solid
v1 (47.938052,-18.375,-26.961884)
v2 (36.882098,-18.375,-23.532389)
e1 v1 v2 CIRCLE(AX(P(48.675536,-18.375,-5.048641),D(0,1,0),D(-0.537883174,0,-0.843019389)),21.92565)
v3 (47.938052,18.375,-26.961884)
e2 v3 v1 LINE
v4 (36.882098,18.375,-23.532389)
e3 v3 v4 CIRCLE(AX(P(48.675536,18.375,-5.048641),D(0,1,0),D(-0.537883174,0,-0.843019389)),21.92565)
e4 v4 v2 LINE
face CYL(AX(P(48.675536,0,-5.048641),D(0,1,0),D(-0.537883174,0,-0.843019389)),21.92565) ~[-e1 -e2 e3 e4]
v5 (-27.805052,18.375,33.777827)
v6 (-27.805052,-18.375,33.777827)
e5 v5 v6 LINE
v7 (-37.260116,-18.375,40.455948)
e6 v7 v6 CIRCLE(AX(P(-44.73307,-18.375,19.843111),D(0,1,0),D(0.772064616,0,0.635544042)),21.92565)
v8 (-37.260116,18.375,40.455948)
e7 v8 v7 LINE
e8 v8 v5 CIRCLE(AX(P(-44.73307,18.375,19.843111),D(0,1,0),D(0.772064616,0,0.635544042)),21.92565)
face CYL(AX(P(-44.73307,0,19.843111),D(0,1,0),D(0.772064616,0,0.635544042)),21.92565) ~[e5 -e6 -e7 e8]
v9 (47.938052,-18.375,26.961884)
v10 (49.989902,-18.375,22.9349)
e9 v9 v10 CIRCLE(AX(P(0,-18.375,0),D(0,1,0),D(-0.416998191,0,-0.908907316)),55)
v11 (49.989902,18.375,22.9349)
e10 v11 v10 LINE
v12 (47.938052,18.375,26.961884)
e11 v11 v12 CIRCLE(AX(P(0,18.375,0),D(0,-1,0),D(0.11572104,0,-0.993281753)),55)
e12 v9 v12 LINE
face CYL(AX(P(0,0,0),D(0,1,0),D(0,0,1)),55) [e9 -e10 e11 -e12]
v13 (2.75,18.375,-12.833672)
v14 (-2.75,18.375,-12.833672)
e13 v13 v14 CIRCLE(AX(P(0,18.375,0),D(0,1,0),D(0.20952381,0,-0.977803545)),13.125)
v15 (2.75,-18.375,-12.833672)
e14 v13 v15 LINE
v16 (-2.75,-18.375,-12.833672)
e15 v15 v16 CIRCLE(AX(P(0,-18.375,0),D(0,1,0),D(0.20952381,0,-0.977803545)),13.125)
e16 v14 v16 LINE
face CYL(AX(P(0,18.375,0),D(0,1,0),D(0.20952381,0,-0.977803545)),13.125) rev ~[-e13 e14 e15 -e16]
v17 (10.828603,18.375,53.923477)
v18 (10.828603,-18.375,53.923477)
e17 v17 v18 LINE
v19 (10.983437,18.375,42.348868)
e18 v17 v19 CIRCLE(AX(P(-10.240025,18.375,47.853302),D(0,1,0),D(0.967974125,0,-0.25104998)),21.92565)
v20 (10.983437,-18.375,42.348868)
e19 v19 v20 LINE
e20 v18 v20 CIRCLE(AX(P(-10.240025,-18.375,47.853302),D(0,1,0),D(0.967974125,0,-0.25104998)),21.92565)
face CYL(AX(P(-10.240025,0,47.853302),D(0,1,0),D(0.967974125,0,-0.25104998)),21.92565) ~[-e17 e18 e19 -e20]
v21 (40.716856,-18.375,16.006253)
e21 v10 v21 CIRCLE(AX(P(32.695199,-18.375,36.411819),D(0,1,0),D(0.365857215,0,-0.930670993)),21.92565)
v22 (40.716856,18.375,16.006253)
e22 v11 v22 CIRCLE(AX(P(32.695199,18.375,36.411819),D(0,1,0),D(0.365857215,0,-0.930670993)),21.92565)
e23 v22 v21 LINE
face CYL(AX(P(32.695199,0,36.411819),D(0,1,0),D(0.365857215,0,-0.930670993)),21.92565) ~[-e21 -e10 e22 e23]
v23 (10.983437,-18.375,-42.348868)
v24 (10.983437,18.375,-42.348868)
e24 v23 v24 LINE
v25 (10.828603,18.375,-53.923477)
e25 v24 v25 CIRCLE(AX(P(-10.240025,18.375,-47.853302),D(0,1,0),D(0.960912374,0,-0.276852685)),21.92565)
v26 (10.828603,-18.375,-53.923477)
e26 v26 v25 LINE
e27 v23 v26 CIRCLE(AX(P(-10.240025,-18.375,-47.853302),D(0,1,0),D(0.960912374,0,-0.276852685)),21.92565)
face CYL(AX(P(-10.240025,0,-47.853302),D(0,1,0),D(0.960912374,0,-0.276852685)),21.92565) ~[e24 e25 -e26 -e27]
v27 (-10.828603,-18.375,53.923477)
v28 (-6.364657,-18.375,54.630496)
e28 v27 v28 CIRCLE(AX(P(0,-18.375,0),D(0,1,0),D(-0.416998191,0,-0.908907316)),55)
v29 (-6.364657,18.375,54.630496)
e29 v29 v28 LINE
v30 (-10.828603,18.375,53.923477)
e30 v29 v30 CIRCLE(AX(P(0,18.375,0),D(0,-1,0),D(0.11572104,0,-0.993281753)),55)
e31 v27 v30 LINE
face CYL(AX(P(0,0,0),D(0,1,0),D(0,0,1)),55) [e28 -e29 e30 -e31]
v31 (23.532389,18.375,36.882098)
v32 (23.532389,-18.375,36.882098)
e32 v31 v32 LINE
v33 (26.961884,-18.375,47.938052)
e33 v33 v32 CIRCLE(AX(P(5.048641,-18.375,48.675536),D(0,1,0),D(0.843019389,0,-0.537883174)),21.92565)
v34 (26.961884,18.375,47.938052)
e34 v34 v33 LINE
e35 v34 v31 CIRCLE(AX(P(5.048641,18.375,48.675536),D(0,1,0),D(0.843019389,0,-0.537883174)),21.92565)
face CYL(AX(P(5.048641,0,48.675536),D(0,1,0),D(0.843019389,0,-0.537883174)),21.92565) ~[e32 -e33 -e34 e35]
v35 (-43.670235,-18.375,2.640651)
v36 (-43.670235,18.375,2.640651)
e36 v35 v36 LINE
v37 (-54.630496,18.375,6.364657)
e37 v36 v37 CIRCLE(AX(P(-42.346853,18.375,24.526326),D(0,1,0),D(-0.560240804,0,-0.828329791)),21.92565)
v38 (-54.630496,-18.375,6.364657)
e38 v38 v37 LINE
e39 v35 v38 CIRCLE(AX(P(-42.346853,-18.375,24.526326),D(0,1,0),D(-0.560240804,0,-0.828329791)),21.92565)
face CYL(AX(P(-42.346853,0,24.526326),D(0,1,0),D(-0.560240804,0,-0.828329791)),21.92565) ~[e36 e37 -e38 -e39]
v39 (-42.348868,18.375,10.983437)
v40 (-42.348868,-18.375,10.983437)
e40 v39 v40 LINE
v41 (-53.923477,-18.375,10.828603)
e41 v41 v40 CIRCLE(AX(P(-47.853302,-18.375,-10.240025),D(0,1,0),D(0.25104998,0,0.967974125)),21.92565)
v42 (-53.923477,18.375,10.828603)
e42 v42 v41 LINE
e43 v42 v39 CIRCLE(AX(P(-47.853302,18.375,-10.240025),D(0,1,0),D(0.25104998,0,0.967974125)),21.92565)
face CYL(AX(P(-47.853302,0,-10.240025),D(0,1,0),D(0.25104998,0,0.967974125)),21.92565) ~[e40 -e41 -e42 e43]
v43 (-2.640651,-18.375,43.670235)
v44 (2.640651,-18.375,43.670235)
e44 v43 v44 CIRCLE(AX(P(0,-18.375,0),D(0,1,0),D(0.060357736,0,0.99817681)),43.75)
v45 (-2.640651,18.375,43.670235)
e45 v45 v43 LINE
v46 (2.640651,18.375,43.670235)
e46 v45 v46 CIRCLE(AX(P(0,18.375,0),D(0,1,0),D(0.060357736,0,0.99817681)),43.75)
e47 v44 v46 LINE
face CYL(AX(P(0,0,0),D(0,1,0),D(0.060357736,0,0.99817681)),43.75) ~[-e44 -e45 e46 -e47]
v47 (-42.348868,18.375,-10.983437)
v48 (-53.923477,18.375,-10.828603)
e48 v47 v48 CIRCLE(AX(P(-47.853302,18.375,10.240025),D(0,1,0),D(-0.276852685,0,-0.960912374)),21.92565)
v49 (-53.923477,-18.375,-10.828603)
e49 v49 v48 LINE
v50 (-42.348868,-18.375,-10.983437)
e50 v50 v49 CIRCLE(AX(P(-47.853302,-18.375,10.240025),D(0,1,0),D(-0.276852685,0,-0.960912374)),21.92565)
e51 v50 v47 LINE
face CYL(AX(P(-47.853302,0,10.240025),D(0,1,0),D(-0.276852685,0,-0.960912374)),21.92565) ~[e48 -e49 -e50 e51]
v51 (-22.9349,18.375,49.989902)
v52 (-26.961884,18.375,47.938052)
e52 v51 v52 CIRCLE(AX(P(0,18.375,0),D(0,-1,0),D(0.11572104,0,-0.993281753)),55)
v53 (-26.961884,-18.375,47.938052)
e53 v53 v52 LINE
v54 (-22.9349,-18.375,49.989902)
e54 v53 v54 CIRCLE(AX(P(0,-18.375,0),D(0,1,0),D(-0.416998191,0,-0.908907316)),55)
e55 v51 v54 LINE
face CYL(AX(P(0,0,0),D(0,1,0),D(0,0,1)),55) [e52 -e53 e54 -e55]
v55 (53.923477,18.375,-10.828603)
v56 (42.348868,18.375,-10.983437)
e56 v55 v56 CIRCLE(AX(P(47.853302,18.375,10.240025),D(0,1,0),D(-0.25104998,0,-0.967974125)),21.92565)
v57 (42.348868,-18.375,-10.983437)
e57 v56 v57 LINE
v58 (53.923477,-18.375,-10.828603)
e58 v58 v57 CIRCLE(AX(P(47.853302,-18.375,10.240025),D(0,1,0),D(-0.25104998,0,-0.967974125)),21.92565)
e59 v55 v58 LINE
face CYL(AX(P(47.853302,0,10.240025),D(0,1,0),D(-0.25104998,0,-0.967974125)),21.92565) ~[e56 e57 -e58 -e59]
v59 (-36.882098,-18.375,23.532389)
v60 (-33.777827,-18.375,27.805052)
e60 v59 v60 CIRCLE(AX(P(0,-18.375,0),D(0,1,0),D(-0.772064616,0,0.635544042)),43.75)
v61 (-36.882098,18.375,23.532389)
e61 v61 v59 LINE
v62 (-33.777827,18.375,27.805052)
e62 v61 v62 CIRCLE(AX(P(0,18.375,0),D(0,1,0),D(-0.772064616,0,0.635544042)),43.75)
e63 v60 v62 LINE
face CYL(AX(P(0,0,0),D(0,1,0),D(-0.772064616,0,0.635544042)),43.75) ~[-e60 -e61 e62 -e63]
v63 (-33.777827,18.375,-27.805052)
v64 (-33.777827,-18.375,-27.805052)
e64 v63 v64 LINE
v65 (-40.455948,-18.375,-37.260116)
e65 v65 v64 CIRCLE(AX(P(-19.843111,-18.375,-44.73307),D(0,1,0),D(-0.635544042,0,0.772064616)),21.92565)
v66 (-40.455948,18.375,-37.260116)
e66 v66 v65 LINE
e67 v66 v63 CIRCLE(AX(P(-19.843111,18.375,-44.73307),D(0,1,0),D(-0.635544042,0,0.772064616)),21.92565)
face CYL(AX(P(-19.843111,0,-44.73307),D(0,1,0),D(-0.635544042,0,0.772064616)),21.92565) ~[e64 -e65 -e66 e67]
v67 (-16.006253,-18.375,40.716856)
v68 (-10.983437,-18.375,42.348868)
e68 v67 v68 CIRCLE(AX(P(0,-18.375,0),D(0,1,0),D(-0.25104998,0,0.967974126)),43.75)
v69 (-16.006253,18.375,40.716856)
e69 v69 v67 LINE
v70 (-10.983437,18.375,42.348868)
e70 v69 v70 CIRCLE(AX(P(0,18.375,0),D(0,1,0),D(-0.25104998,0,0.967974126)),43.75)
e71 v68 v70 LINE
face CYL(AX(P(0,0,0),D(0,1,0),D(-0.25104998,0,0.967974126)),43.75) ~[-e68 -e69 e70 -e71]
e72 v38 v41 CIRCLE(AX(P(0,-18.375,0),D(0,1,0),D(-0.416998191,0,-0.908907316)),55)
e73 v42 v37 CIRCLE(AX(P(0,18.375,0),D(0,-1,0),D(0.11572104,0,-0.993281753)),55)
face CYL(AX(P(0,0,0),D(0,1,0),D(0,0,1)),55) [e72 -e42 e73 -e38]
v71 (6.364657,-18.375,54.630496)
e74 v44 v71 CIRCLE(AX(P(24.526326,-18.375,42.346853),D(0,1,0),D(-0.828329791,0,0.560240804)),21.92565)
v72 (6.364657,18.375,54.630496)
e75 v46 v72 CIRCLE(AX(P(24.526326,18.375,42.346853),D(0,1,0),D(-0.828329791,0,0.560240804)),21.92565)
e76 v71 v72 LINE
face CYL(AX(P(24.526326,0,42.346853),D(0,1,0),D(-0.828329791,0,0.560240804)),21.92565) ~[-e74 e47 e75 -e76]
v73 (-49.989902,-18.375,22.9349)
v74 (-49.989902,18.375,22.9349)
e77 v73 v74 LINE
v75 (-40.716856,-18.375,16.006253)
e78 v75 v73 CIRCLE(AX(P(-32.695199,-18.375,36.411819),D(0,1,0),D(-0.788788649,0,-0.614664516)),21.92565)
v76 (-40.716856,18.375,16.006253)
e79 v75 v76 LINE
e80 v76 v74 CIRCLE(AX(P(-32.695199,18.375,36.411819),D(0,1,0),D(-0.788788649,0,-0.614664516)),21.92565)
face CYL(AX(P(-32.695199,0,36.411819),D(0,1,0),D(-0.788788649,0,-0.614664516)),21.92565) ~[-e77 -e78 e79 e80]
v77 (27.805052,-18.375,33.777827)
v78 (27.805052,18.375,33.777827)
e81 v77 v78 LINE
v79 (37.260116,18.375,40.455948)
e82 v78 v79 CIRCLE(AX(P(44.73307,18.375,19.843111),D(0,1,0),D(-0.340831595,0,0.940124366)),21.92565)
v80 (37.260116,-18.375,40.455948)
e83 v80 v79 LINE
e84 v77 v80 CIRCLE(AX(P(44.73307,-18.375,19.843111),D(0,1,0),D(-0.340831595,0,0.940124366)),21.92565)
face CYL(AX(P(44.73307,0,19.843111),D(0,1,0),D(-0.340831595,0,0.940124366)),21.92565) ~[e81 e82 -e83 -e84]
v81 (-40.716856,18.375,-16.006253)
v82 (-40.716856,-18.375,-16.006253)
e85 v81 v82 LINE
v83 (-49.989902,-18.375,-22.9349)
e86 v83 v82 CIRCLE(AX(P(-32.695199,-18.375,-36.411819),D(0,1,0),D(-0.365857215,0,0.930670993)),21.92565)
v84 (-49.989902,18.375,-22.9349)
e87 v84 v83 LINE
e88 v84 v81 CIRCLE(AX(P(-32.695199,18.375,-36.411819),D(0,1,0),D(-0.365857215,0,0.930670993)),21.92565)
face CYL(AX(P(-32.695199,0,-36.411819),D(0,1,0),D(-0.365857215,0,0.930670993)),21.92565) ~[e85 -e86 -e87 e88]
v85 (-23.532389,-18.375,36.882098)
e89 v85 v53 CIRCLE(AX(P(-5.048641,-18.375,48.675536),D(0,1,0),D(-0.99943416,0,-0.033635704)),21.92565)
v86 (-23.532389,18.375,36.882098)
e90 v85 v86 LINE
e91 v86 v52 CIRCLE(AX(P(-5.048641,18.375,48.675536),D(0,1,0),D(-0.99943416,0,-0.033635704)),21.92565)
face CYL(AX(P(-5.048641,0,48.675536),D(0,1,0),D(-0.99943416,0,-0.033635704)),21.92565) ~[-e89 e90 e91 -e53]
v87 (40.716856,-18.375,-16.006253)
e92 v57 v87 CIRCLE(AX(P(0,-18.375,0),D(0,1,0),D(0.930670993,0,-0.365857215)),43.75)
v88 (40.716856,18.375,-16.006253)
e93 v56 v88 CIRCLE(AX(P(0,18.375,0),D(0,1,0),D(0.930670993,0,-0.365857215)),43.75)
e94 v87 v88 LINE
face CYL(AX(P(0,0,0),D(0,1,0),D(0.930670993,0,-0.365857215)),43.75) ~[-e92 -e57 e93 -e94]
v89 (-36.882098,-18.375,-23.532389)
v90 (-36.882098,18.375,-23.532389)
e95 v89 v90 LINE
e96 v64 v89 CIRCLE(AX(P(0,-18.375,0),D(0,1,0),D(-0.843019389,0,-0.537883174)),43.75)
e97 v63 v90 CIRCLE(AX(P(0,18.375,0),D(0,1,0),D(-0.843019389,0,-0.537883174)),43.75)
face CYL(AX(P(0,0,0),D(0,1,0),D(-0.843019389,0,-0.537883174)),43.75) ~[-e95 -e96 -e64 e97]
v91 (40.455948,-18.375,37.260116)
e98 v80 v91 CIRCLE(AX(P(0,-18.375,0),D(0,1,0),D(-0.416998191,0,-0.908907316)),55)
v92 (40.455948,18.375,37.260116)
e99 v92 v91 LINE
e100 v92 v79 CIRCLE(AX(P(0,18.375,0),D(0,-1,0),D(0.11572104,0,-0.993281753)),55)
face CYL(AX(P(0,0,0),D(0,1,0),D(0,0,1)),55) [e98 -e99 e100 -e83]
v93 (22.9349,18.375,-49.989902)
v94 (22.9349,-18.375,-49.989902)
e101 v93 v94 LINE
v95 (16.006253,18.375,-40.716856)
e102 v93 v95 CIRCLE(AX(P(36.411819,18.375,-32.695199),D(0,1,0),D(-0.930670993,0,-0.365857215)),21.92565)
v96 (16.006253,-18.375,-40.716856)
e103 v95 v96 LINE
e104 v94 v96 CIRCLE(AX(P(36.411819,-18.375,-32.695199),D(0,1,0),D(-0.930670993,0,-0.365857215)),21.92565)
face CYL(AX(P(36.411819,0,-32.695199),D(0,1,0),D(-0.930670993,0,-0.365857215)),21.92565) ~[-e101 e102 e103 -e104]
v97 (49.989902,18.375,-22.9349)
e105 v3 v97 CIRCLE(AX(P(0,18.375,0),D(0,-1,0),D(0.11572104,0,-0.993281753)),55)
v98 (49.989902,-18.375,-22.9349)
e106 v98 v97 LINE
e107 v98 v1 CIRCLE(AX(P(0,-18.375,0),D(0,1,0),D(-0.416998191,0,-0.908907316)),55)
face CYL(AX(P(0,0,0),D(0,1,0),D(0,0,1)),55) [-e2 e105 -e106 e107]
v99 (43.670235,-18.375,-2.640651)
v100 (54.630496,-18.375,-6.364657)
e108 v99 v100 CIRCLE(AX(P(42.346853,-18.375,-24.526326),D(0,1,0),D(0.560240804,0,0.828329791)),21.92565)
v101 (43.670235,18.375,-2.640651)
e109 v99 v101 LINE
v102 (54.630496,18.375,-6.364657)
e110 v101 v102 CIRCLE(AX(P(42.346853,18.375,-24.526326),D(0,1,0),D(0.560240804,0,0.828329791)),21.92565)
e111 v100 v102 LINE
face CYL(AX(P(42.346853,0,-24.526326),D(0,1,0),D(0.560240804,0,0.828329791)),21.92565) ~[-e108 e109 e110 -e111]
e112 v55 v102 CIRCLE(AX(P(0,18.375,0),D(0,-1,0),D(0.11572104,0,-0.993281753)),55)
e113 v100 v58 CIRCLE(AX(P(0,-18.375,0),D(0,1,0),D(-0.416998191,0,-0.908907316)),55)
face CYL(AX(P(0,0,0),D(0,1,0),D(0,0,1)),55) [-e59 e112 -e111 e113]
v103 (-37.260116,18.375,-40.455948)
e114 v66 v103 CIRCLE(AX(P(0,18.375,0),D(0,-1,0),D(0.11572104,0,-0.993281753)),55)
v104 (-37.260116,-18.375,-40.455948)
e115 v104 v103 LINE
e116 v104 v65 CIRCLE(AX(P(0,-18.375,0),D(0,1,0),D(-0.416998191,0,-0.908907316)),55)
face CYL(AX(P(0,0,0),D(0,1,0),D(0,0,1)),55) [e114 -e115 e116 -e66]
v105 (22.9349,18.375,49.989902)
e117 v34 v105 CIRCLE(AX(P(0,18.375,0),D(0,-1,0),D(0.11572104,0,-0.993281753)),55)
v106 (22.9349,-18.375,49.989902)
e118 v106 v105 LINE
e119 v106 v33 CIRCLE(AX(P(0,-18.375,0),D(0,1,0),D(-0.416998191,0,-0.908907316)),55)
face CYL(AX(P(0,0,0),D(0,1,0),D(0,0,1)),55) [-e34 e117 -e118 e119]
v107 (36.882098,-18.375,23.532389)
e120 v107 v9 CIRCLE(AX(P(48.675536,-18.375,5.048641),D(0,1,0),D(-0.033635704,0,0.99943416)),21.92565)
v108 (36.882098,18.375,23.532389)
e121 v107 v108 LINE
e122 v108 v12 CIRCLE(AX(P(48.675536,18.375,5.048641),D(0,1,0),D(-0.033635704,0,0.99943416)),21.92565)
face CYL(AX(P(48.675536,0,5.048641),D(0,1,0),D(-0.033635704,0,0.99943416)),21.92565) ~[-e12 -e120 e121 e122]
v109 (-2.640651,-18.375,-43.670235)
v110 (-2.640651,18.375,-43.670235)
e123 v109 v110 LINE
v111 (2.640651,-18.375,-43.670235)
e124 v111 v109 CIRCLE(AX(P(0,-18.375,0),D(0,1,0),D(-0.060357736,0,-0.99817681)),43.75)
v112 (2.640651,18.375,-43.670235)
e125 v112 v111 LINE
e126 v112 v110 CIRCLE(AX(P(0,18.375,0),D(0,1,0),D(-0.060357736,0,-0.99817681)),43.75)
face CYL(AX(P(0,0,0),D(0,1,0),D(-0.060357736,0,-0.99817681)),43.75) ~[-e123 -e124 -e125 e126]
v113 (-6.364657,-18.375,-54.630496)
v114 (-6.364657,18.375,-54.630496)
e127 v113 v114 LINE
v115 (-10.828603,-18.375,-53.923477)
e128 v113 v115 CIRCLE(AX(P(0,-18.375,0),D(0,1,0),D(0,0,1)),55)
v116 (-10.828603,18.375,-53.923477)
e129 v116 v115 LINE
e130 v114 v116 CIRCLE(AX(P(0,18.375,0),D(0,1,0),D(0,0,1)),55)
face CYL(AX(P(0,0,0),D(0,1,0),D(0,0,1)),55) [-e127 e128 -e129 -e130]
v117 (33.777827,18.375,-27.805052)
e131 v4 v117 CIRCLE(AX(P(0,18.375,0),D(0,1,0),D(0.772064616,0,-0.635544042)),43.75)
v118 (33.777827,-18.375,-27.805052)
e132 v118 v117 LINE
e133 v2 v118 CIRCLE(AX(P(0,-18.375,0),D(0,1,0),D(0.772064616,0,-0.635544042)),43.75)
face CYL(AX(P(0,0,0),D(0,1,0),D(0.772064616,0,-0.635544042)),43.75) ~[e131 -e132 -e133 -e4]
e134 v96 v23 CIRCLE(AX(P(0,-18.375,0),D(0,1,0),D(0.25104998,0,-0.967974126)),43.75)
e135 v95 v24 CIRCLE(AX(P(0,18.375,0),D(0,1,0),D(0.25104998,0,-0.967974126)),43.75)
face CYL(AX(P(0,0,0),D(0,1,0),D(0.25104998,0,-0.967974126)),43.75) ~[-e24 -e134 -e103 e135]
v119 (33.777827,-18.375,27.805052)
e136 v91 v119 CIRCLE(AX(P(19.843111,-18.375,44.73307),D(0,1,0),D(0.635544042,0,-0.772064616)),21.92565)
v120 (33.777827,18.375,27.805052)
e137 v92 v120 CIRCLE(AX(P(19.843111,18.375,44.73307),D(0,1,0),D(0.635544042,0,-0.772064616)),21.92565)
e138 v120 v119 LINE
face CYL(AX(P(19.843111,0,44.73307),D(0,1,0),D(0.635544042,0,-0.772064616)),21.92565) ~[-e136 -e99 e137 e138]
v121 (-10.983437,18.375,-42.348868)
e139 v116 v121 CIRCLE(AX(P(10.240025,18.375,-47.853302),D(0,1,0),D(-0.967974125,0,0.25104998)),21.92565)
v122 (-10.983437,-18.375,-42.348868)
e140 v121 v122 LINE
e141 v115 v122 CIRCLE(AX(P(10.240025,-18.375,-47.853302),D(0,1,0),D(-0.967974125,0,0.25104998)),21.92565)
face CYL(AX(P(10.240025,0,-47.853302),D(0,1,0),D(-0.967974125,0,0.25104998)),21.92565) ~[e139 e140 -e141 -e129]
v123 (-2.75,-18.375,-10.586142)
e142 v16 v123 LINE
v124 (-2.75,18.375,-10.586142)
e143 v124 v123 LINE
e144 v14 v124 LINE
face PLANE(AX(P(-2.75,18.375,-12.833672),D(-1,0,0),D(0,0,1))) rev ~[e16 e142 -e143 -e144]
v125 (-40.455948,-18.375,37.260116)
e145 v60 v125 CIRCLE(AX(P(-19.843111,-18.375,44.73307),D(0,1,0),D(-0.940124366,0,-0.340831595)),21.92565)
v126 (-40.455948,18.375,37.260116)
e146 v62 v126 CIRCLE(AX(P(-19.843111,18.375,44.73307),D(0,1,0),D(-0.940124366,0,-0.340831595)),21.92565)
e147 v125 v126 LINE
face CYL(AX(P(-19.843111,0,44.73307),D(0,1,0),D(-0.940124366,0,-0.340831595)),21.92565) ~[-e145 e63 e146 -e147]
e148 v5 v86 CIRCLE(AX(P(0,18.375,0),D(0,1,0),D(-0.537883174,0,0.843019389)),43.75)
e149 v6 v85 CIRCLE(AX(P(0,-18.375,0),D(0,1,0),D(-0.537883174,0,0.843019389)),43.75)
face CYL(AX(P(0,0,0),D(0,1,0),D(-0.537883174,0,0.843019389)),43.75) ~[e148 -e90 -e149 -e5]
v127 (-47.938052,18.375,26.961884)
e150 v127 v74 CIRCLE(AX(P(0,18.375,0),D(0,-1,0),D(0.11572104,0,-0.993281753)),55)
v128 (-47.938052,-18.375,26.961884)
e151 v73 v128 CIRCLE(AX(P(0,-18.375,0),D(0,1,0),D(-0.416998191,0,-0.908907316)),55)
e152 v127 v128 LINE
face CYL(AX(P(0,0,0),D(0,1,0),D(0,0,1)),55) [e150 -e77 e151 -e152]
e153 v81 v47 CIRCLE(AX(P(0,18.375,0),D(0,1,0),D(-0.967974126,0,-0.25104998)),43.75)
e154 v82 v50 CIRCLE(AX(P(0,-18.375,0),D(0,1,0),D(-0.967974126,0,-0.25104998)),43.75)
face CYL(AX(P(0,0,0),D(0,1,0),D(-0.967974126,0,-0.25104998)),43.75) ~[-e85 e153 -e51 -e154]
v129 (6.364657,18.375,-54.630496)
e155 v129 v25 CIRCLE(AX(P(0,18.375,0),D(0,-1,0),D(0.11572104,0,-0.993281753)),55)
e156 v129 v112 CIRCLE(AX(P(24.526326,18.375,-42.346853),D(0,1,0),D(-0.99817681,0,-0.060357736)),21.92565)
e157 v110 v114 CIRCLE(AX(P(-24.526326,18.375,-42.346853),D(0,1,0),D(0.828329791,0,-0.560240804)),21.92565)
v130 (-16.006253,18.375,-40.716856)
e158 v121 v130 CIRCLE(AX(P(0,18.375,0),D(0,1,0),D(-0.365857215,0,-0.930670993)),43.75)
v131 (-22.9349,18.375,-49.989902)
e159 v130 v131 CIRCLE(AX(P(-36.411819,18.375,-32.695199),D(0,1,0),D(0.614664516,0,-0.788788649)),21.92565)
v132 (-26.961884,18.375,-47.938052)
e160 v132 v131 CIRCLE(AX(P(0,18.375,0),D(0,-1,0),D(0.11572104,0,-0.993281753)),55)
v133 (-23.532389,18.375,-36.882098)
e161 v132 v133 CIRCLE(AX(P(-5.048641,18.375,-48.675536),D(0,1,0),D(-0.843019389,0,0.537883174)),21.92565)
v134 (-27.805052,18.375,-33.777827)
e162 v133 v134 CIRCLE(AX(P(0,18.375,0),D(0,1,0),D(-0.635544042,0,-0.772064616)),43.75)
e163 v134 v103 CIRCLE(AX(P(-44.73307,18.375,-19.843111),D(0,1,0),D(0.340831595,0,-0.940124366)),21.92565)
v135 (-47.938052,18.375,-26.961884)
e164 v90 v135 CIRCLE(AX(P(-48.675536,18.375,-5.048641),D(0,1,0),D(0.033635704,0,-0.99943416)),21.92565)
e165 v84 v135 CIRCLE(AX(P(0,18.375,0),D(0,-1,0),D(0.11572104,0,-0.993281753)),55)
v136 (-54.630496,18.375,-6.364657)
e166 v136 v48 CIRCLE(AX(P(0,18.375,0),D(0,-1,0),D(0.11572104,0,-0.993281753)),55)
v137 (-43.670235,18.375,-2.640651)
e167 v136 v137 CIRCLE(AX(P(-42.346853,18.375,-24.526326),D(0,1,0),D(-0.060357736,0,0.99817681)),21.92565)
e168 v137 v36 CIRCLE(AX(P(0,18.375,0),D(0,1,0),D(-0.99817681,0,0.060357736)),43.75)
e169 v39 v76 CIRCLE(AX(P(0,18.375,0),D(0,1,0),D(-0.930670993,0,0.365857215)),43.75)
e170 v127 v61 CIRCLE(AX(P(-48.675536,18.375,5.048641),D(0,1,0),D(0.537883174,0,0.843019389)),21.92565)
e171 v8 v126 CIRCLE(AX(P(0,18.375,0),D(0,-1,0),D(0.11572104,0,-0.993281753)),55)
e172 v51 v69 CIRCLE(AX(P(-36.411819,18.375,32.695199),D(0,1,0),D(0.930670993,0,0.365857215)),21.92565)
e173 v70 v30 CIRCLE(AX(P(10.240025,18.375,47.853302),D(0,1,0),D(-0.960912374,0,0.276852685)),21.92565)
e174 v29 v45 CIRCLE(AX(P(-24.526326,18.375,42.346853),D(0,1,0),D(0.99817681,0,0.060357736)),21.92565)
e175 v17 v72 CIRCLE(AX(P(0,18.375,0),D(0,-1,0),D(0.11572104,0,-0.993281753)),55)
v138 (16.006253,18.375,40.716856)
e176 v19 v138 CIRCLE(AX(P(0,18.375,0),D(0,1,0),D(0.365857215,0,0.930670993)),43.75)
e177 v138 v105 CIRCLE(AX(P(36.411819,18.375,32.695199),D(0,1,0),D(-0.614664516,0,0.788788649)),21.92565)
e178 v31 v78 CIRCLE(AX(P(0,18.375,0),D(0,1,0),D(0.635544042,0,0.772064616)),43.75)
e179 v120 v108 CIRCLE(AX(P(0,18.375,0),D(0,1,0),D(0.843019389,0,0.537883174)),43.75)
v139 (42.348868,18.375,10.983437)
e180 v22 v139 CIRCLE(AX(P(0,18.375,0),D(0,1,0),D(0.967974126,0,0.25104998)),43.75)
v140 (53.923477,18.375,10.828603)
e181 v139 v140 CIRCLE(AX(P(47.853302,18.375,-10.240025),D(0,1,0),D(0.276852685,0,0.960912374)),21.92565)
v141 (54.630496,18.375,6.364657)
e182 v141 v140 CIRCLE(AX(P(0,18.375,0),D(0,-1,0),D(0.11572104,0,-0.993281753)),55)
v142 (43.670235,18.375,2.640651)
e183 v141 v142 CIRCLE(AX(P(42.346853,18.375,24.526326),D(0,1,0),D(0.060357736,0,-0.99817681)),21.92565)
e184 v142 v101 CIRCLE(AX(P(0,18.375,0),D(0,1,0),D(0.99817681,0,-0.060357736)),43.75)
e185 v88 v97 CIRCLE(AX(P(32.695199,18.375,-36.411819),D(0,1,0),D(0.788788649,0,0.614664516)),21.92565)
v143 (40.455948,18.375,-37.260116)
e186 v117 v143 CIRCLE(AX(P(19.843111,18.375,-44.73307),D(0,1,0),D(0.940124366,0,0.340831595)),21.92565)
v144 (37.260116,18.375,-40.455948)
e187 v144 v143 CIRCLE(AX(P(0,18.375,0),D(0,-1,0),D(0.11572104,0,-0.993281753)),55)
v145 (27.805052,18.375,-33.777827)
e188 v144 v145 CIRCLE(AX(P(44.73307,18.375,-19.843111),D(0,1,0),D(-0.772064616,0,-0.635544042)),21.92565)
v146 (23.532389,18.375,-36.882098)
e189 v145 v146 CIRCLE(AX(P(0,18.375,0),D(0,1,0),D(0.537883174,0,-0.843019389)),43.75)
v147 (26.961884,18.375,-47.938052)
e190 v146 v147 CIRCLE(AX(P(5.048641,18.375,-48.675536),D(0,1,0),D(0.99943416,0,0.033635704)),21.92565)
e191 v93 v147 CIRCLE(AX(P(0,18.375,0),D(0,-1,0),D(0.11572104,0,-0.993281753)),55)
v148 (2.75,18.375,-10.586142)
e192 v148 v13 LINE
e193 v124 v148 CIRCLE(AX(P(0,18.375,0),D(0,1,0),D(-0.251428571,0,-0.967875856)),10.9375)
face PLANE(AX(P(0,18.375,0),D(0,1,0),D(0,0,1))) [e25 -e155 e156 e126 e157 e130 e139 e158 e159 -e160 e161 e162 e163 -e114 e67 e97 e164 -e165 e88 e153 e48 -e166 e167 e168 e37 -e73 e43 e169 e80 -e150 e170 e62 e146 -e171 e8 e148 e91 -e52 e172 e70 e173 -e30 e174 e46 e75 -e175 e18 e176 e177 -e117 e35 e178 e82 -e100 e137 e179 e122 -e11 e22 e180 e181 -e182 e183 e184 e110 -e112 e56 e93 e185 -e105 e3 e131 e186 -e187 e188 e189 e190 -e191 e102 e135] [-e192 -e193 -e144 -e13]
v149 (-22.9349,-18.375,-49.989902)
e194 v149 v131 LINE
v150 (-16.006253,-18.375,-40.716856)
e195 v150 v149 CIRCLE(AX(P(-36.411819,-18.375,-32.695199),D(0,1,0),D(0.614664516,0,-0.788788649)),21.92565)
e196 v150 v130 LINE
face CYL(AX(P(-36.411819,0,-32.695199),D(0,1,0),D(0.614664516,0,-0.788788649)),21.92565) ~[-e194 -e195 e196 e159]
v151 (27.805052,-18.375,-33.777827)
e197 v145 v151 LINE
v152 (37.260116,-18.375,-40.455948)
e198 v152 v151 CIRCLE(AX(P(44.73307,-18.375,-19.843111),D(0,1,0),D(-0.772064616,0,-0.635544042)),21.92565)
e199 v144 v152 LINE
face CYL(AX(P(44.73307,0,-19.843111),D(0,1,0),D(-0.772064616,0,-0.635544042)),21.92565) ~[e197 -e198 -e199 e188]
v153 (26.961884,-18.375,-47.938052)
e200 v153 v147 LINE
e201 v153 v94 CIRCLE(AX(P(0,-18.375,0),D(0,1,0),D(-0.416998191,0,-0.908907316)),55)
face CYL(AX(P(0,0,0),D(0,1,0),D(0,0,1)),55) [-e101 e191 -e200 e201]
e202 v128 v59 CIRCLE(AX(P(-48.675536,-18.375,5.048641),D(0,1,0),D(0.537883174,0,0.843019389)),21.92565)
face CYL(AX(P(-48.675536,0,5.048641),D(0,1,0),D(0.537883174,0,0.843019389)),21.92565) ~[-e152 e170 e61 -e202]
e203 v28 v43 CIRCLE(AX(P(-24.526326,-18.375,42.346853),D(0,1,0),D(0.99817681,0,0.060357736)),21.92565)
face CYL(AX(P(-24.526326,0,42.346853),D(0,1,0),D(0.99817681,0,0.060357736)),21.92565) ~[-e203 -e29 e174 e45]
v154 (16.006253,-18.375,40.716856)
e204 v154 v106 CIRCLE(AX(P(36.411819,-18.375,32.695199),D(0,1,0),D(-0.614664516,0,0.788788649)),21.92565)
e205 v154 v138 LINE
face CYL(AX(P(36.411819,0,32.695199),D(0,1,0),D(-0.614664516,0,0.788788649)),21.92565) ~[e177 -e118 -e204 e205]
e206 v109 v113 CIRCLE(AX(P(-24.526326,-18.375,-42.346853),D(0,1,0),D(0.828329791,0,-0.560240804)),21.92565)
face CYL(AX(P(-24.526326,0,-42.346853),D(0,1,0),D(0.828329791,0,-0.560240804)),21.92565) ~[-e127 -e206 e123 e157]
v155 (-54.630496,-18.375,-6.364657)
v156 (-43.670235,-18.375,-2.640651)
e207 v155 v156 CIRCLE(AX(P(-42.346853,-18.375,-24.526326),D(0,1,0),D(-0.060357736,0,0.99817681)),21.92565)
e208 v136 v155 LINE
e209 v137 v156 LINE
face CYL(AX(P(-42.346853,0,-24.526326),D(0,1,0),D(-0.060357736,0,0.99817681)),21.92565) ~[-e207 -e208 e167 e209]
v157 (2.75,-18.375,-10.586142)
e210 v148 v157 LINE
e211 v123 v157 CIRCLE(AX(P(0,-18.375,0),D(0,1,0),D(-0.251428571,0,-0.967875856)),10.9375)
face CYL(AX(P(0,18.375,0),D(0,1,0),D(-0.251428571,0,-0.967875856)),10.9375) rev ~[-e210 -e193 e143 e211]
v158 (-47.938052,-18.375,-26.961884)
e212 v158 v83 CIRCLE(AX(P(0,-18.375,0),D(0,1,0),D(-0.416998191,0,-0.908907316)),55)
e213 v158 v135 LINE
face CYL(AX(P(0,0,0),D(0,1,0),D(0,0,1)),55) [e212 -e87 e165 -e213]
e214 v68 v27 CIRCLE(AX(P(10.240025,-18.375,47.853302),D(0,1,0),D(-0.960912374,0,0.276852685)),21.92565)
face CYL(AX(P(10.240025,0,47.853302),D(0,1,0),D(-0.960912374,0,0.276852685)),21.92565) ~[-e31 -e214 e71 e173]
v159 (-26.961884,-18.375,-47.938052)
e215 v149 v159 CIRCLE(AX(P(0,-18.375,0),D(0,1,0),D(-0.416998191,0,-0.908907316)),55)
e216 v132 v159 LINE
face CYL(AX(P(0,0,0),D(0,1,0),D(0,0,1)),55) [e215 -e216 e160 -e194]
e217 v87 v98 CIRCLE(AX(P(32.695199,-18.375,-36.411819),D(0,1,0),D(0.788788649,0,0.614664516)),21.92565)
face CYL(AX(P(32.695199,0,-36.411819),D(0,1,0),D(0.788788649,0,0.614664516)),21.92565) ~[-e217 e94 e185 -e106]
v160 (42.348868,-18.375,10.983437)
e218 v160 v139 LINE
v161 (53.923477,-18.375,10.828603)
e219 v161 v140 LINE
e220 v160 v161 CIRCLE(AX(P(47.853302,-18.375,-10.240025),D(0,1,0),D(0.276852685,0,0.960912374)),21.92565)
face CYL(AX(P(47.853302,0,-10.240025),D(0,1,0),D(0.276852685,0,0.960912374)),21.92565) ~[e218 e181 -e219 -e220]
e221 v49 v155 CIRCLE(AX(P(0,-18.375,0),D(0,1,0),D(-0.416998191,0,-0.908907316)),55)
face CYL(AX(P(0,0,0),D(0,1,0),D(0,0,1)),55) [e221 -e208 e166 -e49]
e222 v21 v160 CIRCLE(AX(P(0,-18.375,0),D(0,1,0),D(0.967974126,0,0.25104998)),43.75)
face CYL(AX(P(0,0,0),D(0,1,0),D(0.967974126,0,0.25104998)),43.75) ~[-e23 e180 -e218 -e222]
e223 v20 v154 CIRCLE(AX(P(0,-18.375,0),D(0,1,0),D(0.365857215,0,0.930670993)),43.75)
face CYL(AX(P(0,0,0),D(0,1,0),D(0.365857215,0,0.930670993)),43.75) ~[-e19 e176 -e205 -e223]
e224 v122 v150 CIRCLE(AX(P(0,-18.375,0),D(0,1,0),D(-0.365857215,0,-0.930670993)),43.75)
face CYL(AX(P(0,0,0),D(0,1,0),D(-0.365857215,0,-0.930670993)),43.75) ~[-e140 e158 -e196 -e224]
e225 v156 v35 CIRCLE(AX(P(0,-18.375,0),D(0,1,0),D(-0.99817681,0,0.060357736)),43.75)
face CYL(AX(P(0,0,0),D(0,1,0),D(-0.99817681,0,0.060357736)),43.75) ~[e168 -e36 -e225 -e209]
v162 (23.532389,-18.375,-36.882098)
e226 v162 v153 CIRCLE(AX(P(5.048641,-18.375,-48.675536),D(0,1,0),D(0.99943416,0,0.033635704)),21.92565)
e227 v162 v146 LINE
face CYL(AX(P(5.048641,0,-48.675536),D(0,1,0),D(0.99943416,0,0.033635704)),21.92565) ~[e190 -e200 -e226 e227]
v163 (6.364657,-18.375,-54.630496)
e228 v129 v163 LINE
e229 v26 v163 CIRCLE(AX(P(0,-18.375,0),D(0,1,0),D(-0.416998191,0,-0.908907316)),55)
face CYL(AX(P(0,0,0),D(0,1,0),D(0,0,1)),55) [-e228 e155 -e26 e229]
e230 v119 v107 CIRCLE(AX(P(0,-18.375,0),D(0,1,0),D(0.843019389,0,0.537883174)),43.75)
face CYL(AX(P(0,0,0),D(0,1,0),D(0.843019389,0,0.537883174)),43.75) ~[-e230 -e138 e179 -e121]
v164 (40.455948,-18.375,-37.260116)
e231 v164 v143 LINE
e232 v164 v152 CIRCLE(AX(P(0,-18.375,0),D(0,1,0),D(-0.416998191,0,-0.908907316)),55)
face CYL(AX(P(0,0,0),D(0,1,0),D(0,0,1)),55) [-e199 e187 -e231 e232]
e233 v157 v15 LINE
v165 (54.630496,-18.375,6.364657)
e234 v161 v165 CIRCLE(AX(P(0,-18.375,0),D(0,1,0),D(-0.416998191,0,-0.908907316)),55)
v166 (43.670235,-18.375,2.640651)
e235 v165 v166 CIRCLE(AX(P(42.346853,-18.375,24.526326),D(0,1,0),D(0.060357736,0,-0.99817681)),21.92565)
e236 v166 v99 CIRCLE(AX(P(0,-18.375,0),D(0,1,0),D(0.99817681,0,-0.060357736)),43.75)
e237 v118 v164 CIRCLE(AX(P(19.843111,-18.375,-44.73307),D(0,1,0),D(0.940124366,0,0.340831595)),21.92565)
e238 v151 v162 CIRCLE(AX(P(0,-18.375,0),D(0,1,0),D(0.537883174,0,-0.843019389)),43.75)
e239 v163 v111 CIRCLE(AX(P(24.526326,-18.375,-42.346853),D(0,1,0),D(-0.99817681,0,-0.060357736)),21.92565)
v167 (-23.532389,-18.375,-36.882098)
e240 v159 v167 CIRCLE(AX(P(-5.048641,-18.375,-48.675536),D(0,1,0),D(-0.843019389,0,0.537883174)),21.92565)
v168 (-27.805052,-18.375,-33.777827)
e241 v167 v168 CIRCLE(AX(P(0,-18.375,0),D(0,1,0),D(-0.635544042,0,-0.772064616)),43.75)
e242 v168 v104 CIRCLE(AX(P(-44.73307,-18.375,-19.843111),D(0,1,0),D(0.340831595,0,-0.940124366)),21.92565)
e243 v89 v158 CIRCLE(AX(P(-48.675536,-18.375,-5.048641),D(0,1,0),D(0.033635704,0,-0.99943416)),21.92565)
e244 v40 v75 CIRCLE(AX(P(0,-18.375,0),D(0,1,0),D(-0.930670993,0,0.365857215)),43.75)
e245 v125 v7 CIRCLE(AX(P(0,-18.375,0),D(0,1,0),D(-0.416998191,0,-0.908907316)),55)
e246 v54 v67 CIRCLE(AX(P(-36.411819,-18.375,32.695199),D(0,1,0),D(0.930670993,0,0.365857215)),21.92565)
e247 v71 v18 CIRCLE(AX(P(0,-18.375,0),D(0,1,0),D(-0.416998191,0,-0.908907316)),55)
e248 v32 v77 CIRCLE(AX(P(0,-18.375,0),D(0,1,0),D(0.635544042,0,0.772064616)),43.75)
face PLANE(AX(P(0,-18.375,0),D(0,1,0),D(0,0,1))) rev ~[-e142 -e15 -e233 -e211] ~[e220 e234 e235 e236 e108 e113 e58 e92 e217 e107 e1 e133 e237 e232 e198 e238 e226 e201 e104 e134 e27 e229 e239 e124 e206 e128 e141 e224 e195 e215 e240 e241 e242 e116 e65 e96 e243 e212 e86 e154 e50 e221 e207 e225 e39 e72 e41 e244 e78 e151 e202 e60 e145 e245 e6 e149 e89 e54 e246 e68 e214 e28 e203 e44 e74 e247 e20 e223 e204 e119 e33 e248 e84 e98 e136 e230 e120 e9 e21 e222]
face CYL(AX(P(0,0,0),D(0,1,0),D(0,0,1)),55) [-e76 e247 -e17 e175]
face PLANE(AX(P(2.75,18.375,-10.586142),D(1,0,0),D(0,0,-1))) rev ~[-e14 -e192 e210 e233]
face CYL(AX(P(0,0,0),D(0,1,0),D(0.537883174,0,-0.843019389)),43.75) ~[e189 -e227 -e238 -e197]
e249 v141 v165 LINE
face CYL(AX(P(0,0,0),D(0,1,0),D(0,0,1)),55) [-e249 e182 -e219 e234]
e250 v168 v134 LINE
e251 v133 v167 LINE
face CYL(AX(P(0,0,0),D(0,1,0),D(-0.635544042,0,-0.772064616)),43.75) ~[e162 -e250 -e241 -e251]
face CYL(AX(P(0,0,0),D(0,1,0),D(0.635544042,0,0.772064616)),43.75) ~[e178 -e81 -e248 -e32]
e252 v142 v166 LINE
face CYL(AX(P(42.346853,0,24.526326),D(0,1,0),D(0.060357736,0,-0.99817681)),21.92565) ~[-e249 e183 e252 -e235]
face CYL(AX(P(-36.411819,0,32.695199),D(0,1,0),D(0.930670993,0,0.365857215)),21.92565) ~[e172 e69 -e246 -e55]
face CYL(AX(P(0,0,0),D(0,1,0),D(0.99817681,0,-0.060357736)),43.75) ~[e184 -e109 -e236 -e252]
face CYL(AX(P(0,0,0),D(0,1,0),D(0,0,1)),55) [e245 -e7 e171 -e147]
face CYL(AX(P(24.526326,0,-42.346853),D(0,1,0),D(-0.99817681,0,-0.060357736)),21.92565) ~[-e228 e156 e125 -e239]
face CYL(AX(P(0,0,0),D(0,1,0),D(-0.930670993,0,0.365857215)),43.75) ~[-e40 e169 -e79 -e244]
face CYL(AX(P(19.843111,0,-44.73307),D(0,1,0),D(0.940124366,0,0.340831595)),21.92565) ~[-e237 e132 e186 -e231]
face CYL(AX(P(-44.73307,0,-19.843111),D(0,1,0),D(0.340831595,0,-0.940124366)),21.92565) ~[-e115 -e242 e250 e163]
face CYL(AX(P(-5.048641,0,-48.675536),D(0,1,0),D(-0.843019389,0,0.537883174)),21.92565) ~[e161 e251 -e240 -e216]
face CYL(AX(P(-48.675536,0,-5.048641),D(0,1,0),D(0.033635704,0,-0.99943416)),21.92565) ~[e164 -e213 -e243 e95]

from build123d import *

# Parameters (mm, degrees)
IZIM4_R                     = 55
Y_KSEKLIK_EKSTR_ZYON1_DEPTH = 18.375
KES_EKSTR_ZYON2_DEPTH       = 25
DAIRESEL_KAPLAMA2_COUNT     = 20
KES_EKSTR_ZYON3_DEPTH       = 36.75


with BuildPart() as part:
    # Çizim4 → Yükseklik-Ekstrüzyon1 (new, symmetric)
    with BuildSketch(Plane(origin=(0, 0, 0), x_dir=(1, 0, 0), z_dir=(0, 1, 0))):
        with Locations(Location((0, 0, 0), (0, 0, 270))):
            Circle(IZIM4_R)
    extrude(amount=Y_KSEKLIK_EKSTR_ZYON1_DEPTH, both=True)

    # Çizim2 → Kes-Ekstrüzyon2 (cut, symmetric)
    with BuildSketch(Plane(origin=(0, 0, 0), x_dir=(1, 0, 0), z_dir=(0, 1, 0))):
        with BuildLine():
            ThreePointArc((6.364657179, 54.630496419), (0, 55), (-6.364657179, 54.630496419))
            ThreePointArc((-6.364657179, 54.630496419), (-3.766285823, 49.400564339), (-2.640650949, 43.670235431))
            ThreePointArc((-2.640650949, 43.670235431), (0, 43.75), (2.640650949, 43.670235431))
            ThreePointArc((2.640650949, 43.670235431), (3.766285823, 49.400564339), (6.364657179, 54.630496419))
        make_face()
    kes_ekstr_zyon2 = extrude(amount=KES_EKSTR_ZYON2_DEPTH, both=True, mode=Mode.SUBTRACT)

    # Dairesel Kaplama2: Kes-Ekstrüzyon2 ×20 about axis
    dairesel_kaplama2_axis = Axis((0, 0, 0), (0, 1, 0))
    for i in range(1, DAIRESEL_KAPLAMA2_COUNT):
        add(kes_ekstr_zyon2.rotate(dairesel_kaplama2_axis, i * 360 / DAIRESEL_KAPLAMA2_COUNT), mode=Mode.SUBTRACT)

    # Çizim9 → Kes-Ekstrüzyon3 (cut)
    with BuildSketch(Plane(origin=(0, 18.375, 0), x_dir=(1, 0, 0), z_dir=(0, 1, 0))):
        with BuildLine():
            Line((2.75, 10.58614218), (2.75, 12.833671532))
            ThreePointArc((2.75, 12.833671532), (0, 13.125), (-2.75, 12.833671532))
            Line((-2.75, 12.833671532), (-2.75, 10.58614218))
            ThreePointArc((-2.75, 10.58614218), (0, -10.9375), (2.75, 10.58614218))
        make_face()
    extrude(amount=-KES_EKSTR_ZYON3_DEPTH, mode=Mode.SUBTRACT)


solid = part.part
